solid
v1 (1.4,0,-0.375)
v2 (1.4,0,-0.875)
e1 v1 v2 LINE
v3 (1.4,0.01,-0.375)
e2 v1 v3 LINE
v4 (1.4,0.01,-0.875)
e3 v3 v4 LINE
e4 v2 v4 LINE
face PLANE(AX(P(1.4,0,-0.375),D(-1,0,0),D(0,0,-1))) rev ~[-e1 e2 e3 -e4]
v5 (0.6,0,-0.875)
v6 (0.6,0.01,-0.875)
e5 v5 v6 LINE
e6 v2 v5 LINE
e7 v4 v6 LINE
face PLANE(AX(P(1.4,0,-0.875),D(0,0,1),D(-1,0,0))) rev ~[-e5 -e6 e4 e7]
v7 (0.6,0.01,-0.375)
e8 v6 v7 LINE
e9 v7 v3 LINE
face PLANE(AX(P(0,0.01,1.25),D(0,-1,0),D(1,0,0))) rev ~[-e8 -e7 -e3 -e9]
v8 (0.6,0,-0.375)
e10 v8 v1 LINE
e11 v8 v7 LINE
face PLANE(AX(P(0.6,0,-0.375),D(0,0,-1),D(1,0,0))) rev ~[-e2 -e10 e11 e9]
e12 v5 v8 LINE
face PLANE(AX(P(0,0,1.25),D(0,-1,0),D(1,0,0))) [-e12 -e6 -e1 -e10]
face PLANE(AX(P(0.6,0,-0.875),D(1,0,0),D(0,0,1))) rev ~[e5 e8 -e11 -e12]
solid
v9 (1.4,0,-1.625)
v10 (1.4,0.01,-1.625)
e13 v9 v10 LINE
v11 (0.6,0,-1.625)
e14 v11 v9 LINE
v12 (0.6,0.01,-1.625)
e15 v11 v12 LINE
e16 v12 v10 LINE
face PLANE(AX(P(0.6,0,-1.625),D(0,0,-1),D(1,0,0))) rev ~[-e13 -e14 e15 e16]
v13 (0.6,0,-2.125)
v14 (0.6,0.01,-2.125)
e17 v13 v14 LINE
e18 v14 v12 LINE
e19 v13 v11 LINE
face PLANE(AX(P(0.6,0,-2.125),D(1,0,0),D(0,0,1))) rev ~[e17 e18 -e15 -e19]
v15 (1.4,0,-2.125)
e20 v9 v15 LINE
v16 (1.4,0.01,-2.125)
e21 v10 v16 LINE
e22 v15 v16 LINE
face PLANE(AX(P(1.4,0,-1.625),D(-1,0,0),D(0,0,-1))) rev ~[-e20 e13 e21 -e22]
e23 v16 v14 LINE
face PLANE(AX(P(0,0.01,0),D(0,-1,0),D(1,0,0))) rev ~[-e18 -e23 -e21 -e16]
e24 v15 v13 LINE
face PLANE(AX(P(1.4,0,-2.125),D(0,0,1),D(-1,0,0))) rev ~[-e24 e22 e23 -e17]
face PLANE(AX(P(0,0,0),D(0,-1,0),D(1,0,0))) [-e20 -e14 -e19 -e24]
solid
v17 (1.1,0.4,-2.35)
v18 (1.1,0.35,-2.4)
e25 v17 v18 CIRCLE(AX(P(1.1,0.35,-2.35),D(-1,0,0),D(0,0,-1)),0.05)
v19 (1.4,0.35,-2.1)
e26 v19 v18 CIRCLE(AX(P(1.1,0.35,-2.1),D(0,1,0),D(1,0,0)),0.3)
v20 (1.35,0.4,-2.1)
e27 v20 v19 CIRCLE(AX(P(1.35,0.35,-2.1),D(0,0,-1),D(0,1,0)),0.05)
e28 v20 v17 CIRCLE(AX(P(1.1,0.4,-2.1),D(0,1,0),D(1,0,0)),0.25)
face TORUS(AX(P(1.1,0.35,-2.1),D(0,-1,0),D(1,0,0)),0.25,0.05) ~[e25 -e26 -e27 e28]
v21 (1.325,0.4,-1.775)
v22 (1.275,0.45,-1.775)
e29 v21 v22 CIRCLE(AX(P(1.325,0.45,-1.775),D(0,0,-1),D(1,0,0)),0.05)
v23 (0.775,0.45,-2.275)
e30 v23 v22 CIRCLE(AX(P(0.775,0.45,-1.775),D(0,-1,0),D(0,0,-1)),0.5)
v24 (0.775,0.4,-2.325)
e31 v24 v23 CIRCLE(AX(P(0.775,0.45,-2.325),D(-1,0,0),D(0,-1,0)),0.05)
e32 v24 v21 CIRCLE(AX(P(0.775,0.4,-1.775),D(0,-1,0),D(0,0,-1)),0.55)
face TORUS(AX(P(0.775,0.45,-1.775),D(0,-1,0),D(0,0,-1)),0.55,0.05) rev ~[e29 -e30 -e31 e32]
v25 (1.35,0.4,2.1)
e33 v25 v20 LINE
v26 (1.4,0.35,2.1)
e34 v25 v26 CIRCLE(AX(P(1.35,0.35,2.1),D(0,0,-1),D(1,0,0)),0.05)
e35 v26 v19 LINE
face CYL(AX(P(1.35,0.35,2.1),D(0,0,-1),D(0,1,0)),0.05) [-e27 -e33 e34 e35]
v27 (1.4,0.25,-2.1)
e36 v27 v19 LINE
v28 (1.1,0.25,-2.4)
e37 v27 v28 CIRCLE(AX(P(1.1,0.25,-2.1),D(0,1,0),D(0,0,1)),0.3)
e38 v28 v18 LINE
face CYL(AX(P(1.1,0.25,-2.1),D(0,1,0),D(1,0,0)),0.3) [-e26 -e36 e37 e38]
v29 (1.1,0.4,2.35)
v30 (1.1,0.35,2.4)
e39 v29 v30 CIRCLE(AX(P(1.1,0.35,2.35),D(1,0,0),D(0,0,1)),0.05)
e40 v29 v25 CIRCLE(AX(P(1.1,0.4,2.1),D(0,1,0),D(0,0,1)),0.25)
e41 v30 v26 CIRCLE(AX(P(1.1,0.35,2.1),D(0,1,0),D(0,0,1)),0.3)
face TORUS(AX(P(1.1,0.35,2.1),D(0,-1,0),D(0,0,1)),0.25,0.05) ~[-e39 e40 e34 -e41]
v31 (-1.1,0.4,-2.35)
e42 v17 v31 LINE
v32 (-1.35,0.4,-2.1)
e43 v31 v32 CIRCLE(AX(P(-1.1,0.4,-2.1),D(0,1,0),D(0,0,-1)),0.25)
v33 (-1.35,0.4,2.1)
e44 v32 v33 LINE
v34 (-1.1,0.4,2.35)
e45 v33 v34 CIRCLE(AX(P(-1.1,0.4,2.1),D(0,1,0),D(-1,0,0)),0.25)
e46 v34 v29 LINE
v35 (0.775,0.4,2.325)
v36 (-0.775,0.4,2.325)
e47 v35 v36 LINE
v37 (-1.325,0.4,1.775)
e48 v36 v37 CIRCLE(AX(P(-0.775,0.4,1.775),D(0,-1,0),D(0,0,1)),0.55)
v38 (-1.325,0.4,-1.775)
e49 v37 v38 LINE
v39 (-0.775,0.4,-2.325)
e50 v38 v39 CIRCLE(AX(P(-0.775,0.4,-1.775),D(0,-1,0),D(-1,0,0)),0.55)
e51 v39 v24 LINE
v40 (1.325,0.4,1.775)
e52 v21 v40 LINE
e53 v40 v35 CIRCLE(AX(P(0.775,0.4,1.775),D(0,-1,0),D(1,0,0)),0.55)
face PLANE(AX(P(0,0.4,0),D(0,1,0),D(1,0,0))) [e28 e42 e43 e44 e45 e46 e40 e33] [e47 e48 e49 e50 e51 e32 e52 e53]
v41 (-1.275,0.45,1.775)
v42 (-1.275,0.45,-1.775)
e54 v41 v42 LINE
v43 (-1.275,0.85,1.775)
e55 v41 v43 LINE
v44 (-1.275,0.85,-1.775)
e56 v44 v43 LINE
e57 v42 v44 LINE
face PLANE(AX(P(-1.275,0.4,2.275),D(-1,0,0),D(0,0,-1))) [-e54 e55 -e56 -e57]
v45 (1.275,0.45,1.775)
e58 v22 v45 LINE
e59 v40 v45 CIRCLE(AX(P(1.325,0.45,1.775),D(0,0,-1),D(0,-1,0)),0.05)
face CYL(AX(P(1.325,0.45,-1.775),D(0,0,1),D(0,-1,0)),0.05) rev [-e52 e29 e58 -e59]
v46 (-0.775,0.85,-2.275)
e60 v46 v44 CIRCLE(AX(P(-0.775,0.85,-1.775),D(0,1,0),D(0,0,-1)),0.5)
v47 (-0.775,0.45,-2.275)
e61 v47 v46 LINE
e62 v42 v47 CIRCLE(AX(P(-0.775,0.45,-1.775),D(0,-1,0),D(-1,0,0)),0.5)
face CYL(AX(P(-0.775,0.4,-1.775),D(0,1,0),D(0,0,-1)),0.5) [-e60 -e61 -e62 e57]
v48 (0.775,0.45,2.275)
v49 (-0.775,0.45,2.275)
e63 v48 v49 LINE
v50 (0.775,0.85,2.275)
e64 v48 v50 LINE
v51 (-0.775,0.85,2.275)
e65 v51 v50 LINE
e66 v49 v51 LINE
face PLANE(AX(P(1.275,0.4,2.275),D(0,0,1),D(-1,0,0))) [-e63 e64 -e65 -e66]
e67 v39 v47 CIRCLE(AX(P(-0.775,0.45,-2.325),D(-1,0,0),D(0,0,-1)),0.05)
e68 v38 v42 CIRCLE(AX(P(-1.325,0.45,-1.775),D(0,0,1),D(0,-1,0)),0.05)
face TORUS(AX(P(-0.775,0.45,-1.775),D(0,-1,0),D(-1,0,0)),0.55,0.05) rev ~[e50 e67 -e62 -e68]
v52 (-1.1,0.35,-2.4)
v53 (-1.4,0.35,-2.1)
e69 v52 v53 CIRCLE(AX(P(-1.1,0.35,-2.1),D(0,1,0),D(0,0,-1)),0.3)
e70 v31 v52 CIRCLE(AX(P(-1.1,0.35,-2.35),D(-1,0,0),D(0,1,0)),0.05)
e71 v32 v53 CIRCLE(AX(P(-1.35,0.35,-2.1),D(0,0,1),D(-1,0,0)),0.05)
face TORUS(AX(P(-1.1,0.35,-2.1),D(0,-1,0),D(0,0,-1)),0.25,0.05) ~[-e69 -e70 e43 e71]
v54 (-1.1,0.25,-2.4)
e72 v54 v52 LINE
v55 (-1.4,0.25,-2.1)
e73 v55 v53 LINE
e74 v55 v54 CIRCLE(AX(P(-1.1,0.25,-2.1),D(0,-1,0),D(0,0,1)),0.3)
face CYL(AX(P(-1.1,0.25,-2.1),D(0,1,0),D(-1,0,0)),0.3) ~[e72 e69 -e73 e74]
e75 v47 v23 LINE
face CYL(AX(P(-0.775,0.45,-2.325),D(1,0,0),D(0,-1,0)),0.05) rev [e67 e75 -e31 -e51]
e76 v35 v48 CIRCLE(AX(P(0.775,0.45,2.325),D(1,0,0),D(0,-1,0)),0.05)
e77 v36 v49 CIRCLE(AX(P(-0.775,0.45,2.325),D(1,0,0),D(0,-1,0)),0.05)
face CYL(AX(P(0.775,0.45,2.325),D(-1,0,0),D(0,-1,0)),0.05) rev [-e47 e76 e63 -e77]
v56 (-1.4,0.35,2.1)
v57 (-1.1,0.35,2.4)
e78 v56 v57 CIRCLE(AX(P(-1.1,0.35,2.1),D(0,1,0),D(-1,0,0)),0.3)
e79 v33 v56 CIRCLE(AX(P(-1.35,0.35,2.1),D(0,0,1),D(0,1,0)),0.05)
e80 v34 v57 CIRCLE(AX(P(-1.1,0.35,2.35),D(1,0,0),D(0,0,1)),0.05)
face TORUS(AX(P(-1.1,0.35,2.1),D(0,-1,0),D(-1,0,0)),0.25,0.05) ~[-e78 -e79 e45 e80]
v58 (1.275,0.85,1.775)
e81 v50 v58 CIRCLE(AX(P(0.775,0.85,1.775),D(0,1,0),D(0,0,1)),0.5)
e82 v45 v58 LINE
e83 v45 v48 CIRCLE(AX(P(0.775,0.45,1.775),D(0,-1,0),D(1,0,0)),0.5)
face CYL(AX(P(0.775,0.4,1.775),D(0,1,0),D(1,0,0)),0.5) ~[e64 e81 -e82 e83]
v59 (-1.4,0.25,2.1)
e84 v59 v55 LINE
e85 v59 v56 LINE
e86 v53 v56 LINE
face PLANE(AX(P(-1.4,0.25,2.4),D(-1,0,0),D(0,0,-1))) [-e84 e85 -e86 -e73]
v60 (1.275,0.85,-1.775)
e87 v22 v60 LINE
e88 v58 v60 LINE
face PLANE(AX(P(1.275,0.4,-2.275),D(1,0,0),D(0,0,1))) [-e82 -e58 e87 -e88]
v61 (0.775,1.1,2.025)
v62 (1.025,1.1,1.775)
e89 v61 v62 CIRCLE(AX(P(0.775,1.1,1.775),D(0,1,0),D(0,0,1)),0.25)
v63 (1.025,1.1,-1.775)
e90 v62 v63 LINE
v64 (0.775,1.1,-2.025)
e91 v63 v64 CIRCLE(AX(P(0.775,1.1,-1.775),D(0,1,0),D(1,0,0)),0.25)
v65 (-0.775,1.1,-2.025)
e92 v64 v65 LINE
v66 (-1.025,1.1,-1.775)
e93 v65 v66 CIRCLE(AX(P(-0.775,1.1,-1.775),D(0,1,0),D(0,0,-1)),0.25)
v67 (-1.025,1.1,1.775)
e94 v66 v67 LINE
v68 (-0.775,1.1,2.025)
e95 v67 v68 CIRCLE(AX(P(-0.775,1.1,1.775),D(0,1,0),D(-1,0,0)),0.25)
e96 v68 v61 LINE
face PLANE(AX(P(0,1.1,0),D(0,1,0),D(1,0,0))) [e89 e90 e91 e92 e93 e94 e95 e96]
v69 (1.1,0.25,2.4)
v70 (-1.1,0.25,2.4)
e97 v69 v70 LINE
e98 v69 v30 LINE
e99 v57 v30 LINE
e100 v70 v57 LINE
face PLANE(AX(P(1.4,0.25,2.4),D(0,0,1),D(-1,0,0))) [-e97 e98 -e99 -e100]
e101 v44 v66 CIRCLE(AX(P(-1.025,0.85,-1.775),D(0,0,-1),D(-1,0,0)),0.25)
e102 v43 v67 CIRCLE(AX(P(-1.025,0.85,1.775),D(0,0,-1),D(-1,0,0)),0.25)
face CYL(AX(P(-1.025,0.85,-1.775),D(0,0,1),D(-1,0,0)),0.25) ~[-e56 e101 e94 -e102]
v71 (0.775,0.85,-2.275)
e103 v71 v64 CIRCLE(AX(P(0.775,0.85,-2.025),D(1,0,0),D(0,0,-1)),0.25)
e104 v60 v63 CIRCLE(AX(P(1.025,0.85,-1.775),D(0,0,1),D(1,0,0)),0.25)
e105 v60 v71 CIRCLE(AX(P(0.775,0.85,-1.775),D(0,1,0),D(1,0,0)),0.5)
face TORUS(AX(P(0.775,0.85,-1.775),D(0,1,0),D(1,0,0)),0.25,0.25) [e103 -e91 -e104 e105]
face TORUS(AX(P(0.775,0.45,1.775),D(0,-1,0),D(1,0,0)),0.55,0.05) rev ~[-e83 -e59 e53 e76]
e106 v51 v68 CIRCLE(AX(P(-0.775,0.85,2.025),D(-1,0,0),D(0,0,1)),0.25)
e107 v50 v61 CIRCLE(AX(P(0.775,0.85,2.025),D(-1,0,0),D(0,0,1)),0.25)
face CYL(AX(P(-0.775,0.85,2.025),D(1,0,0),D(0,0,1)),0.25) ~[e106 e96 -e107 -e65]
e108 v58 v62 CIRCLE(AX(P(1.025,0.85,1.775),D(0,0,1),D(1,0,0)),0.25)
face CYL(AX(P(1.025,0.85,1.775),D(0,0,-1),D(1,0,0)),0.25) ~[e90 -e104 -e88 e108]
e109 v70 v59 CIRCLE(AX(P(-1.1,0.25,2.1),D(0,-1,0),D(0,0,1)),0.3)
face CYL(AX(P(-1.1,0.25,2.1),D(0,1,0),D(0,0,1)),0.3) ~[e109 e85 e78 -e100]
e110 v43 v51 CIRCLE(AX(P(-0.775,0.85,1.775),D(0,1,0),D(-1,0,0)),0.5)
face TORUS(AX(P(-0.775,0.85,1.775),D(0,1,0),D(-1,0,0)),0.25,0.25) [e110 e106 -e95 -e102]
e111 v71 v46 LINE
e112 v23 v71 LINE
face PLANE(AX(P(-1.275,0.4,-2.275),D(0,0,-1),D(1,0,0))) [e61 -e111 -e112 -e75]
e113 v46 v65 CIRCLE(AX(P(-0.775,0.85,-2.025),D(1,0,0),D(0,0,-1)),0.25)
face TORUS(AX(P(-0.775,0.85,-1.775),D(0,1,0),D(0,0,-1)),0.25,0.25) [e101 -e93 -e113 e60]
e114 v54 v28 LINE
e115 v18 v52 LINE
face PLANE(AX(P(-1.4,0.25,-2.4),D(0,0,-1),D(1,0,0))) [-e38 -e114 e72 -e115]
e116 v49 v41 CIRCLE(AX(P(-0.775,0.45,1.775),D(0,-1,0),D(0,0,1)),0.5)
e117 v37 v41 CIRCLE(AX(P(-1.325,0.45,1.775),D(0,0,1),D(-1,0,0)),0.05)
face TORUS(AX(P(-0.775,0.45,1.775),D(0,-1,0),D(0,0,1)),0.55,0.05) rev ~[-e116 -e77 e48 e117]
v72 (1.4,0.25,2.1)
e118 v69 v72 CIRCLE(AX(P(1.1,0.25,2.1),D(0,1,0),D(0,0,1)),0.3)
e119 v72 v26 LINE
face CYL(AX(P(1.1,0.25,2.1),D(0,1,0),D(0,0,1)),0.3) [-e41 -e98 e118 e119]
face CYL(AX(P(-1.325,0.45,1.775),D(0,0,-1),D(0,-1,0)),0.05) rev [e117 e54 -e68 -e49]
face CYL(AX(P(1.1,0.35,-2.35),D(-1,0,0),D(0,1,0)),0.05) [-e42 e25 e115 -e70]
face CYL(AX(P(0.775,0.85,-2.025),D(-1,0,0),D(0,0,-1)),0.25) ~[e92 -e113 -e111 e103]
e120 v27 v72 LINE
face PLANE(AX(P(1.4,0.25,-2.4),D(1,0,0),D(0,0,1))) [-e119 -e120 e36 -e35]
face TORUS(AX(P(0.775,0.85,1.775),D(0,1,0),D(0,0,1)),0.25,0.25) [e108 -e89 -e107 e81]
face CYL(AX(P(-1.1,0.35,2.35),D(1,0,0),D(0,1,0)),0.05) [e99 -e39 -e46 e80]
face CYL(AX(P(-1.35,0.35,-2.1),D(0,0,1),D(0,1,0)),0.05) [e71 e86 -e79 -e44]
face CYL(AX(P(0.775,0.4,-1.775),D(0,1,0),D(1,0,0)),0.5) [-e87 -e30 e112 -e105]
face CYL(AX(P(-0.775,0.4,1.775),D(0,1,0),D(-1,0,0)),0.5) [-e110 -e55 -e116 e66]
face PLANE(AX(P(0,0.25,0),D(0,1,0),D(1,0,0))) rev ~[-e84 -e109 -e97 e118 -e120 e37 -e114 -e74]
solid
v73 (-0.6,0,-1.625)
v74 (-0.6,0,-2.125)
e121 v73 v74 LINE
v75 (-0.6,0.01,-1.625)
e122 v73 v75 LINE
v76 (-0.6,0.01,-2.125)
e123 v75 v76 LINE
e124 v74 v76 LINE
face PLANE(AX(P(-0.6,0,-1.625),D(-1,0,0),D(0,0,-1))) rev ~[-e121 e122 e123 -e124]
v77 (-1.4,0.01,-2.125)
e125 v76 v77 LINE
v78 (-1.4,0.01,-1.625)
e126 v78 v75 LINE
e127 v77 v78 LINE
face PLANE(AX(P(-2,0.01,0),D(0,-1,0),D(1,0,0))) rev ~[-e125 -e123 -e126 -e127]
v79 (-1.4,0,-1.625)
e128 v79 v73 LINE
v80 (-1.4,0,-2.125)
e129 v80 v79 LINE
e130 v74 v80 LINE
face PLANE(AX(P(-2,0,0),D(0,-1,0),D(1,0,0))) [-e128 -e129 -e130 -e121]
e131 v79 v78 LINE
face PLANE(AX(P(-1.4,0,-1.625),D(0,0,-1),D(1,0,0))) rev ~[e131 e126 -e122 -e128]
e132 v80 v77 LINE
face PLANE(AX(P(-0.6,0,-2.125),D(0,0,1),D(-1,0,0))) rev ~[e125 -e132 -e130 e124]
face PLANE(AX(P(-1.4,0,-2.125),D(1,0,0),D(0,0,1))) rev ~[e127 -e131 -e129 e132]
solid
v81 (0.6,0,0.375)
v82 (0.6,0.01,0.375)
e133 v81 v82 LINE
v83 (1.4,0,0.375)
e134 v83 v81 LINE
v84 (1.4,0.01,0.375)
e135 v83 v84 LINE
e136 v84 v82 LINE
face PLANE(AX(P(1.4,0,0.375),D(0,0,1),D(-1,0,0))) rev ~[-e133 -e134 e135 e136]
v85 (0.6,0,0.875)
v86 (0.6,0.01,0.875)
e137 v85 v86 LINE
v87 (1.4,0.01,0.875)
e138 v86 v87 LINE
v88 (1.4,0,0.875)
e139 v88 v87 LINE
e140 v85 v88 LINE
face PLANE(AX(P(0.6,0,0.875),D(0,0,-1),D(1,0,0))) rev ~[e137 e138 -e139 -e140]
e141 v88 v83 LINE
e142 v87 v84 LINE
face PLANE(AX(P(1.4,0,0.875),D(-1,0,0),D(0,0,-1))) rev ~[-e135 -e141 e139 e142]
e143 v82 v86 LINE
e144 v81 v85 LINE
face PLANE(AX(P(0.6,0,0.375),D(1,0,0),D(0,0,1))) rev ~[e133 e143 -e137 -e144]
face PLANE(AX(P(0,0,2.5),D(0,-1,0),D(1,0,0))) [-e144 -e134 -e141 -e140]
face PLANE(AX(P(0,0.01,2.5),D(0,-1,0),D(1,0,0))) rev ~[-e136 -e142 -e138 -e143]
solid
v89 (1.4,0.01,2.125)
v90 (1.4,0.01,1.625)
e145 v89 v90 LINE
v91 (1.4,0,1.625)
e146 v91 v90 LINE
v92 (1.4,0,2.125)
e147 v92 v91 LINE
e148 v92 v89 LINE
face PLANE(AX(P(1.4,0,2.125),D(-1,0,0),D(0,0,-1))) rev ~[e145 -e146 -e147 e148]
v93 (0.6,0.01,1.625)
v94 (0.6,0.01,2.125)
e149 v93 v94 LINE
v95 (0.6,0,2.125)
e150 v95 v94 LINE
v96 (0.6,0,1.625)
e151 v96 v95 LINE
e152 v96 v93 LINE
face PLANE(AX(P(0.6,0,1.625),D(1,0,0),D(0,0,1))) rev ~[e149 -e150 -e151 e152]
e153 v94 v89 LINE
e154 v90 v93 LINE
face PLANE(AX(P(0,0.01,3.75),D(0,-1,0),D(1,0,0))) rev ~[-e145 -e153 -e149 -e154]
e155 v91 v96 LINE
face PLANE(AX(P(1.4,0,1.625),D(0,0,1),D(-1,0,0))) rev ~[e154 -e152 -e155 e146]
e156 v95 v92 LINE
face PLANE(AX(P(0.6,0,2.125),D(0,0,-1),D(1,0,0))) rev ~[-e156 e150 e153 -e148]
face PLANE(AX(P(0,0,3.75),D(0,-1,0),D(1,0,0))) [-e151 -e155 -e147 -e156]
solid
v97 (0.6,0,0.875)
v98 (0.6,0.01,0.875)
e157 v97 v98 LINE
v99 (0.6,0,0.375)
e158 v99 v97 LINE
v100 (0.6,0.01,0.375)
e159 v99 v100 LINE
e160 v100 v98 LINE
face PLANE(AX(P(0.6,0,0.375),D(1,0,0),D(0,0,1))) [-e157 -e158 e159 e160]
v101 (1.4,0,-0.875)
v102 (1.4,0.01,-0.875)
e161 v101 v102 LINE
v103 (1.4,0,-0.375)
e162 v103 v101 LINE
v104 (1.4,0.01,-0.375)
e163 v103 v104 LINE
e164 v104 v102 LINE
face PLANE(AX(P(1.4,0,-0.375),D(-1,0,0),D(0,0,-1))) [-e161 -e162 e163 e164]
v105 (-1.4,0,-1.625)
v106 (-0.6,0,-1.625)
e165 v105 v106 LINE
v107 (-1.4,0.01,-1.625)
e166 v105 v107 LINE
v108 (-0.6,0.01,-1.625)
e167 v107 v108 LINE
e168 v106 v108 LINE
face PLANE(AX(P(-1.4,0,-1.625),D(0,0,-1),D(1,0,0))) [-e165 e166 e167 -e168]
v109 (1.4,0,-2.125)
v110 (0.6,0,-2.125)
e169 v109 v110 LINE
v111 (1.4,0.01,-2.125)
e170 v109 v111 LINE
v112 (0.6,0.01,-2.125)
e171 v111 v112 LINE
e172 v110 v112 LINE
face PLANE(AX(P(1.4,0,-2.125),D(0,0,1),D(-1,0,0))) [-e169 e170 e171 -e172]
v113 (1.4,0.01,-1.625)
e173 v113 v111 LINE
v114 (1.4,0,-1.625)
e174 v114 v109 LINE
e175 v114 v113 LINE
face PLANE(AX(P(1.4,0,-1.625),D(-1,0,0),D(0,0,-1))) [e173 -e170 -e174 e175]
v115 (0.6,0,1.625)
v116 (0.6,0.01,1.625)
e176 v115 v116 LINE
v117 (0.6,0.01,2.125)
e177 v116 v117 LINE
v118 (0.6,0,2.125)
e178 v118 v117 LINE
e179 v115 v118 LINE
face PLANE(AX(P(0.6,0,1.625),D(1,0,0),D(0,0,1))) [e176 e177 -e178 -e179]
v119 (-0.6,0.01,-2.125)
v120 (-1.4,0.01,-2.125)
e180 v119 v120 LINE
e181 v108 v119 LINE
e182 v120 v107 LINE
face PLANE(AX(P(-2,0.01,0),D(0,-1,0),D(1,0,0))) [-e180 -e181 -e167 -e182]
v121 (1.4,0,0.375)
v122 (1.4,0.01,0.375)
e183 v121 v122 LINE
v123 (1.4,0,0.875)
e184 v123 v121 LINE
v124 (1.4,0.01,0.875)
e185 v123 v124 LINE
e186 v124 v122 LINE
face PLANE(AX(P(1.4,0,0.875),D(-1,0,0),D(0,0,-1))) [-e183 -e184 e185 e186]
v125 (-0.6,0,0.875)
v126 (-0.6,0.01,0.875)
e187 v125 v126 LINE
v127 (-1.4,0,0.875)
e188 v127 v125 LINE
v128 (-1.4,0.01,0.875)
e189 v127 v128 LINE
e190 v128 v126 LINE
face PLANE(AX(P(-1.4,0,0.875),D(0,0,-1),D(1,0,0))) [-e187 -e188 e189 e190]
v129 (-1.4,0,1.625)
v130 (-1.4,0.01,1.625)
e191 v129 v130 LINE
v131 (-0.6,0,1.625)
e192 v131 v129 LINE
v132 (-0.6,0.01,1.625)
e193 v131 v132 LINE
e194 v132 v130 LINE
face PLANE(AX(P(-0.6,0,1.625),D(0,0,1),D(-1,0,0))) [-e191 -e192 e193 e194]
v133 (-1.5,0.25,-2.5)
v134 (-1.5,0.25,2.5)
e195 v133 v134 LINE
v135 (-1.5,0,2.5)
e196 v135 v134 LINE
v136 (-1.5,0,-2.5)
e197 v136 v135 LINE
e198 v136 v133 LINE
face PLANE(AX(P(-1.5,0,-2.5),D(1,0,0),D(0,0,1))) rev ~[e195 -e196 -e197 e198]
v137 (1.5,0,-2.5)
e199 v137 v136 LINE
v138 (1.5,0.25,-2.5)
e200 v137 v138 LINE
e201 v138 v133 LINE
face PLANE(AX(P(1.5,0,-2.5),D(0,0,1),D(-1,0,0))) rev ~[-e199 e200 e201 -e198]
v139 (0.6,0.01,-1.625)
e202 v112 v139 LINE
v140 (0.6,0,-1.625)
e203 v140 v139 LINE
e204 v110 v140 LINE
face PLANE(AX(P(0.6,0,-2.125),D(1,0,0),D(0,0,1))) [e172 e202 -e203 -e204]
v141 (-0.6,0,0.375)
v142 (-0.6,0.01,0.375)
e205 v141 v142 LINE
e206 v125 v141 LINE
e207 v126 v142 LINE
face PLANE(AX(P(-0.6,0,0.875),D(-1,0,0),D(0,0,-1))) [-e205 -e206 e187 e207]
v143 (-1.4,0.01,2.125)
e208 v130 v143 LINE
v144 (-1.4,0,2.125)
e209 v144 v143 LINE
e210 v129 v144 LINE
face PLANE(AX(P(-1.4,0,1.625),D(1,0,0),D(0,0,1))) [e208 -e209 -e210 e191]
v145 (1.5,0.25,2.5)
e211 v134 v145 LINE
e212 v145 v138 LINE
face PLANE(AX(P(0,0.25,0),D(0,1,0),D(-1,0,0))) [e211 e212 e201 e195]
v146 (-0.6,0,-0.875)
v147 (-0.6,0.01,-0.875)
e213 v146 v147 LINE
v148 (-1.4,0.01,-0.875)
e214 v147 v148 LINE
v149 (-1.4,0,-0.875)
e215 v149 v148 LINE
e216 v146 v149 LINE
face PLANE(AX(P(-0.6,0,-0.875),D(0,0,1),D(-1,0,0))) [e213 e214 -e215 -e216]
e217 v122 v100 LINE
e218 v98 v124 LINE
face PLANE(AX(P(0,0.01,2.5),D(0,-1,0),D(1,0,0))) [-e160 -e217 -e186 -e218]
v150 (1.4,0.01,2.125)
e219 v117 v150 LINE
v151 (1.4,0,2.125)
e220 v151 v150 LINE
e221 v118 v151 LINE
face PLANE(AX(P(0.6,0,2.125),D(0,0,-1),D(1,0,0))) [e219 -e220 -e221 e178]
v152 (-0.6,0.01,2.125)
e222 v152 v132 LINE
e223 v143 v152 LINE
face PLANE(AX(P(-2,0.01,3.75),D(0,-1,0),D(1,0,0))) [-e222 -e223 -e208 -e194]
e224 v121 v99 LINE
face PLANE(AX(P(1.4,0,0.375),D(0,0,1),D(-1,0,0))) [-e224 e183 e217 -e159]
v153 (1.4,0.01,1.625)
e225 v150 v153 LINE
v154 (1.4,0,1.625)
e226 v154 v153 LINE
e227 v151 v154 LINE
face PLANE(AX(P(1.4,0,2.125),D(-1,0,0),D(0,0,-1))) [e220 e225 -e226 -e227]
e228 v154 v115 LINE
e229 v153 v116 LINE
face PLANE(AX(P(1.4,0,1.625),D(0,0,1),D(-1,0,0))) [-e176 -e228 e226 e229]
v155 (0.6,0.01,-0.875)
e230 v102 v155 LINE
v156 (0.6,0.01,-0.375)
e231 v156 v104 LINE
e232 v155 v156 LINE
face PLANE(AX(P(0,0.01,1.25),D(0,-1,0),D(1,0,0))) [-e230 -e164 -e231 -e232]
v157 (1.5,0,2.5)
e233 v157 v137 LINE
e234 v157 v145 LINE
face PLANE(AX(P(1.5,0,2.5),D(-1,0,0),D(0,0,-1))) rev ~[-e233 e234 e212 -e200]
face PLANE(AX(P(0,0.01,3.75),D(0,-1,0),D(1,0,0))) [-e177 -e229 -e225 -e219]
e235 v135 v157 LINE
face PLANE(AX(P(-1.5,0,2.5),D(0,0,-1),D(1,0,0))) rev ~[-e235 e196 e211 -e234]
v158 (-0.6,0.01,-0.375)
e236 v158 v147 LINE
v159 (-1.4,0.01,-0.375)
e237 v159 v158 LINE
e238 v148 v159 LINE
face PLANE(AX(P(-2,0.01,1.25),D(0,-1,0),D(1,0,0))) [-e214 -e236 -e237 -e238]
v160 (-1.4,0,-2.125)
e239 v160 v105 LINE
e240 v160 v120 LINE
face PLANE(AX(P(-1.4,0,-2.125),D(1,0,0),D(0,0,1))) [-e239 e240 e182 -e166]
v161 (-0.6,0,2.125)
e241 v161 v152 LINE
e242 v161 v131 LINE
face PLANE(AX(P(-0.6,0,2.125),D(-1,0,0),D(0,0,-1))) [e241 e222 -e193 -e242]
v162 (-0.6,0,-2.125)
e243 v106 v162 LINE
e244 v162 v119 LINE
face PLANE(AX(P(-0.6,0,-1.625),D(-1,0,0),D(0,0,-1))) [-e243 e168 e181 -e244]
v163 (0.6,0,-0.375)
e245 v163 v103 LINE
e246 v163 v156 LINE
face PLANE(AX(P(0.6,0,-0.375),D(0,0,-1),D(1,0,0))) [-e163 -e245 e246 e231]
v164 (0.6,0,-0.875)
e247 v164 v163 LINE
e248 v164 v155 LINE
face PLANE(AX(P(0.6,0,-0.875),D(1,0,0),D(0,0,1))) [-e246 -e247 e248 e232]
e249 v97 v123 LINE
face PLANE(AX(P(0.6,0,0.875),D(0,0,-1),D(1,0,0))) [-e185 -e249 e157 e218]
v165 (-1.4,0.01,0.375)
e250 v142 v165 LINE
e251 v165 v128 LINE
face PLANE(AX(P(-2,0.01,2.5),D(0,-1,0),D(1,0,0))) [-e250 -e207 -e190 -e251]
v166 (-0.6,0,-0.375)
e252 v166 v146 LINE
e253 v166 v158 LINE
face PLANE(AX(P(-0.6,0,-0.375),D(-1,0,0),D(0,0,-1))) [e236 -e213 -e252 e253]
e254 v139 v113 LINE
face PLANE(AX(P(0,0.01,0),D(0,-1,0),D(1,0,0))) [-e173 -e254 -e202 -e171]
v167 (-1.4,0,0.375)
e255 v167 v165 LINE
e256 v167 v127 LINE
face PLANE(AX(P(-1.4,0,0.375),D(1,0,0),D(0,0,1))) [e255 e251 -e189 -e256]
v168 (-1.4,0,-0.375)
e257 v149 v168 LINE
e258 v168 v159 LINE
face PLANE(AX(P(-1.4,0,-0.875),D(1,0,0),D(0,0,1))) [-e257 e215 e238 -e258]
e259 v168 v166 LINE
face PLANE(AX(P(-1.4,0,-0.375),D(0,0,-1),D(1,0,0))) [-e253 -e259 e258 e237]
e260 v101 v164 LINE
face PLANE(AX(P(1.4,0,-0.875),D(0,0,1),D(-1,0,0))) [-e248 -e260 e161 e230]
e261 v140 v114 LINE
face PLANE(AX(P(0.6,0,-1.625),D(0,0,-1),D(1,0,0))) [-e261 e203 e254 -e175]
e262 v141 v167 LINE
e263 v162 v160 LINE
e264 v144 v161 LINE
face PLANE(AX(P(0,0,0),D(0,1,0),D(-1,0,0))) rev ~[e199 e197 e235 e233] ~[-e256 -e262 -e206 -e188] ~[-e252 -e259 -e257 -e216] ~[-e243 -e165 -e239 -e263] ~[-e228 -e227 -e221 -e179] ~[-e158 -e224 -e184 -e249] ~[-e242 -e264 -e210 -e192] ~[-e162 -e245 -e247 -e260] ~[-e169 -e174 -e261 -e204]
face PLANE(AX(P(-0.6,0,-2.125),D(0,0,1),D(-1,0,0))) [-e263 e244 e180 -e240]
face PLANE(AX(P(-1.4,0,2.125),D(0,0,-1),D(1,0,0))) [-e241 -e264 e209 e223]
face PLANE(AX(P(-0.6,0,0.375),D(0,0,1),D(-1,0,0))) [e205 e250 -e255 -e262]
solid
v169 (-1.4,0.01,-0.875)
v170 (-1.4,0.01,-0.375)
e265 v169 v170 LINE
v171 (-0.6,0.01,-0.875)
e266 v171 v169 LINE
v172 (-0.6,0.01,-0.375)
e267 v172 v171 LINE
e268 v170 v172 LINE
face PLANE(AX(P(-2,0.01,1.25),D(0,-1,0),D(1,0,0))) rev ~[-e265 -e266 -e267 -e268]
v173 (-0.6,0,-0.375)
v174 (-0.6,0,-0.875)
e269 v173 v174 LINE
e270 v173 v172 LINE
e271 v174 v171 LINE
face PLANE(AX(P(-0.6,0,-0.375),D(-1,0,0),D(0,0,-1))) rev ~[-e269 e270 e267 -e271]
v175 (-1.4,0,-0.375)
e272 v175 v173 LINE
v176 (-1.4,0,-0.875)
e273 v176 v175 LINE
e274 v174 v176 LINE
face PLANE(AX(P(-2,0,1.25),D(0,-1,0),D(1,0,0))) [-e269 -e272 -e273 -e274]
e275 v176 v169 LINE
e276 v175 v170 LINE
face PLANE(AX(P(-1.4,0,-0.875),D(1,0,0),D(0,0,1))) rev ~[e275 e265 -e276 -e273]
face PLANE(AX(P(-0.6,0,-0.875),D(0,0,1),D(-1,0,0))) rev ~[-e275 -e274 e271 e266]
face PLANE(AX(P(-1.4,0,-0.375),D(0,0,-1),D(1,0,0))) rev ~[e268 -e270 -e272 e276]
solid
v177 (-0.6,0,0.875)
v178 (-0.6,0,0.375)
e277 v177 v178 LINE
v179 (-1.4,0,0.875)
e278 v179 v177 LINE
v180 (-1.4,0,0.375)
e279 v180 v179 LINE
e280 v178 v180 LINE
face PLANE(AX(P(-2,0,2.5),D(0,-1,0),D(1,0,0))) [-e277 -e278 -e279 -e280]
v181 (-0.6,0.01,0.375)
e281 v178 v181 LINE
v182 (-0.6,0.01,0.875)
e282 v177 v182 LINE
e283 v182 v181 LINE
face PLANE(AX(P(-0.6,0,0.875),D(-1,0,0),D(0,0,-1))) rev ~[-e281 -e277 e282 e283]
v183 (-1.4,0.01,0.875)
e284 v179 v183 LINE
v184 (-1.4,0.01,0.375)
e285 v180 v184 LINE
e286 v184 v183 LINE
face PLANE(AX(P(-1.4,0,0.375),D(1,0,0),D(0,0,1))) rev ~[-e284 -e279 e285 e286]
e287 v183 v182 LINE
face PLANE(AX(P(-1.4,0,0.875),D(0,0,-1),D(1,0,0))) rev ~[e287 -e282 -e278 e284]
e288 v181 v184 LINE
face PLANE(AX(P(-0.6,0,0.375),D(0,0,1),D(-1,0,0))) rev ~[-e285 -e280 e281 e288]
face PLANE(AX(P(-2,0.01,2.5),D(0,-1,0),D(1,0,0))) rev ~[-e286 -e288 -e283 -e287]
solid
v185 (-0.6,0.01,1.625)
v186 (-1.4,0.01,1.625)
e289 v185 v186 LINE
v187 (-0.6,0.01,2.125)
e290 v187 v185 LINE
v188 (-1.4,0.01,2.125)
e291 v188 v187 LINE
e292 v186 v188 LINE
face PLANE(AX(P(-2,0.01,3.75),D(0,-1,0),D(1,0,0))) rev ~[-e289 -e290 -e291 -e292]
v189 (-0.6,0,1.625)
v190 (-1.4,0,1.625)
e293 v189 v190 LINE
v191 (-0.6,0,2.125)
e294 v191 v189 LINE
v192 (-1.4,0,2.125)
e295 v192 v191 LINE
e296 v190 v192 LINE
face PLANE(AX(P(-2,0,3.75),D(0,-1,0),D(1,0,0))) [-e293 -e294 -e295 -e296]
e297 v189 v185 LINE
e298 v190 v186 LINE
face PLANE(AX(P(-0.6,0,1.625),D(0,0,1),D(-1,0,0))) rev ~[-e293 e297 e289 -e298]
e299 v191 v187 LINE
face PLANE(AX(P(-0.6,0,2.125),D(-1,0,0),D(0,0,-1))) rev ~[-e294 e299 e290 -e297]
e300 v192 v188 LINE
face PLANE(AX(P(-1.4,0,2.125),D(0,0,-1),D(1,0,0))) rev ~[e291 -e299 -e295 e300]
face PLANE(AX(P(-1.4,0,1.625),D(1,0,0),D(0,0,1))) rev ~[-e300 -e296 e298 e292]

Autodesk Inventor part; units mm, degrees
ref_plane "YZ Plane" through (0, 0, 0) normal (1, 0, 0) x (0, 1, 0)
ref_plane "XZ Plane" through (0, 0, 0) normal (0, 1, 0) x (-1, 0, 0)
ref_plane "XY Plane" through (0, 0, 0) normal (0, 0, 1) x (1, 0, 0)
sketch "Sketch1" plane through (0, 0, 0) normal (0, 1, 0) x (-1, 0, 0)
  line L0 (1.5, 2.5) -> (-1.5, 2.5)
  line L1 (-1.5, 2.5) -> (-1.5, -2.5)
  line L2 (-1.5, -2.5) -> (1.5, -2.5)
  line L3 (1.5, -2.5) -> (1.5, 2.5)
  line L4 (1.5, 2.5) -> (-1.5, -2.5) construction
  line L5 (-1.5, 2.5) -> (1.5, -2.5) construction
  point P0 (0, 0)
  dimension "d1" = 3
  dimension "d2" = 5
extrude "Extrusion1" add sketch "Sketch1" along normal blind 0.25
sketch "Sketch2" plane through (0, 0.25, 0) normal (0, 1, 0) x (1, 0, 0)
  line L0 (1.4, -2.4) -> (-1.4, -2.4)
  line L1 (-1.4, -2.4) -> (-1.4, 2.4)
  line L2 (-1.4, 2.4) -> (1.4, 2.4)
  line L3 (1.4, 2.4) -> (1.4, -2.4)
  line L4 (1.4, -2.4) -> (-1.4, 2.4) construction
  line L5 (-1.4, -2.4) -> (1.4, 2.4) construction
  point P0 (0, 0)
  dimension "d5" = 4.8
  dimension "d6" = 2.8
extrude "Extrusion2" add sketch "Sketch2" along normal blind 0.15 separate body
sketch "Sketch3" plane through (0, 0.4, 0) normal (0, 1, 0) x (1, 0, 0)
  line L0 (1.275, -2.275) -> (-1.275, -2.275)
  line L1 (-1.275, -2.275) -> (-1.275, 2.275)
  line L2 (-1.275, 2.275) -> (1.275, 2.275)
  line L3 (1.275, 2.275) -> (1.275, -2.275)
  line L4 (1.275, -2.275) -> (-1.275, 2.275) construction
  line L5 (-1.275, -2.275) -> (1.275, 2.275) construction
  point P0 (0, 0)
  dimension "d9" = 4.55
  dimension "d10" = 2.55
extrude "Extrusion3" add sketch "Sketch3" along normal blind 0.7 bodies 2
sketch "Sketch4" plane through (0, 0, 0) normal (0, -1, 0) x (1, 0, 0)
  line L0 (1.4, -2.125) -> (0.6, -2.125)
  line L1 (0.6, -2.125) -> (0.6, -1.625)
  line L2 (0.6, -1.625) -> (1.4, -1.625)
  line L3 (1.4, -1.625) -> (1.4, -2.125)
  line L4 (1.4, -2.125) -> (0.6, -1.625) construction
  line L5 (0.6, -2.125) -> (1.4, -1.625) construction
  point P0 (0, 0)
  point P1 (1, -1.875)
  dimension "d13" = 0.8
  dimension "d14" = 0.5
  dimension "d15" = 1.875
  dimension "d16" = 1
extrude "Extrusion4" cut sketch "Sketch4" against normal blind 0.01 bodies 1
pattern_linear "Rectangular Pattern1" count 4 spacing 1.25 along (0, 0, 1) count 2 spacing 2 along (-1, 0, 0) of "Extrusion4" bodies 1
extrude "Extrusion5" add sketch "Sketch4" against normal blind 0.01 separate body
pattern_linear "Rectangular Pattern2" count 4 spacing 1.25 along (0, 0, 1) count 2 spacing 2 along (-1, 0, 0) of "Extrusion5" bodies 3
fillet "Fillet1" radius 0.5 4 edges at (-1.275, 0.75, -2.275) (1.275, 0.75, -2.275) (-1.275, 0.75, 2.275) (1.275, 0.75, 2.275)
fillet "Fillet2" radius 0.3 4 edges at (-1.4, 0.325, -2.4) (1.4, 0.325, -2.4) (-1.4, 0.325, 2.4) (1.4, 0.325, 2.4)
fillet "Fillet4" radius 0.25 8 edges at (-1.1286, 1.1, 2.1286) (0, 1.1, 2.275) (1.1286, 1.1, 2.1286) (1.275, 1.1, 0) (1.1286, 1.1, -2.1286) (0, 1.1, -2.275) (-1.1286, 1.1, -2.1286) (-1.275, 1.1, 0)
fillet "Fillet5" radius 0.05 16 edges at (1.3121, 0.4, 2.3121) (1.4, 0.4, 0) (1.3121, 0.4, -2.3121) (0, 0.4, -2.4) (-1.3121, 0.4, -2.3121) (-1.4, 0.4, 0) (-1.3121, 0.4, 2.3121) (0, 0.4, 2.4) (0, 0.4, 2.275) (1.1286, 0.4, 2.1286) (1.275, 0.4, 0) (1.1286, 0.4, -2.1286) (0, 0.4, -2.275) (-1.1286, 0.4, -2.1286) (-1.275, 0.4, 0) (-1.1286, 0.4, 2.1286)
properties part number "LGA"
